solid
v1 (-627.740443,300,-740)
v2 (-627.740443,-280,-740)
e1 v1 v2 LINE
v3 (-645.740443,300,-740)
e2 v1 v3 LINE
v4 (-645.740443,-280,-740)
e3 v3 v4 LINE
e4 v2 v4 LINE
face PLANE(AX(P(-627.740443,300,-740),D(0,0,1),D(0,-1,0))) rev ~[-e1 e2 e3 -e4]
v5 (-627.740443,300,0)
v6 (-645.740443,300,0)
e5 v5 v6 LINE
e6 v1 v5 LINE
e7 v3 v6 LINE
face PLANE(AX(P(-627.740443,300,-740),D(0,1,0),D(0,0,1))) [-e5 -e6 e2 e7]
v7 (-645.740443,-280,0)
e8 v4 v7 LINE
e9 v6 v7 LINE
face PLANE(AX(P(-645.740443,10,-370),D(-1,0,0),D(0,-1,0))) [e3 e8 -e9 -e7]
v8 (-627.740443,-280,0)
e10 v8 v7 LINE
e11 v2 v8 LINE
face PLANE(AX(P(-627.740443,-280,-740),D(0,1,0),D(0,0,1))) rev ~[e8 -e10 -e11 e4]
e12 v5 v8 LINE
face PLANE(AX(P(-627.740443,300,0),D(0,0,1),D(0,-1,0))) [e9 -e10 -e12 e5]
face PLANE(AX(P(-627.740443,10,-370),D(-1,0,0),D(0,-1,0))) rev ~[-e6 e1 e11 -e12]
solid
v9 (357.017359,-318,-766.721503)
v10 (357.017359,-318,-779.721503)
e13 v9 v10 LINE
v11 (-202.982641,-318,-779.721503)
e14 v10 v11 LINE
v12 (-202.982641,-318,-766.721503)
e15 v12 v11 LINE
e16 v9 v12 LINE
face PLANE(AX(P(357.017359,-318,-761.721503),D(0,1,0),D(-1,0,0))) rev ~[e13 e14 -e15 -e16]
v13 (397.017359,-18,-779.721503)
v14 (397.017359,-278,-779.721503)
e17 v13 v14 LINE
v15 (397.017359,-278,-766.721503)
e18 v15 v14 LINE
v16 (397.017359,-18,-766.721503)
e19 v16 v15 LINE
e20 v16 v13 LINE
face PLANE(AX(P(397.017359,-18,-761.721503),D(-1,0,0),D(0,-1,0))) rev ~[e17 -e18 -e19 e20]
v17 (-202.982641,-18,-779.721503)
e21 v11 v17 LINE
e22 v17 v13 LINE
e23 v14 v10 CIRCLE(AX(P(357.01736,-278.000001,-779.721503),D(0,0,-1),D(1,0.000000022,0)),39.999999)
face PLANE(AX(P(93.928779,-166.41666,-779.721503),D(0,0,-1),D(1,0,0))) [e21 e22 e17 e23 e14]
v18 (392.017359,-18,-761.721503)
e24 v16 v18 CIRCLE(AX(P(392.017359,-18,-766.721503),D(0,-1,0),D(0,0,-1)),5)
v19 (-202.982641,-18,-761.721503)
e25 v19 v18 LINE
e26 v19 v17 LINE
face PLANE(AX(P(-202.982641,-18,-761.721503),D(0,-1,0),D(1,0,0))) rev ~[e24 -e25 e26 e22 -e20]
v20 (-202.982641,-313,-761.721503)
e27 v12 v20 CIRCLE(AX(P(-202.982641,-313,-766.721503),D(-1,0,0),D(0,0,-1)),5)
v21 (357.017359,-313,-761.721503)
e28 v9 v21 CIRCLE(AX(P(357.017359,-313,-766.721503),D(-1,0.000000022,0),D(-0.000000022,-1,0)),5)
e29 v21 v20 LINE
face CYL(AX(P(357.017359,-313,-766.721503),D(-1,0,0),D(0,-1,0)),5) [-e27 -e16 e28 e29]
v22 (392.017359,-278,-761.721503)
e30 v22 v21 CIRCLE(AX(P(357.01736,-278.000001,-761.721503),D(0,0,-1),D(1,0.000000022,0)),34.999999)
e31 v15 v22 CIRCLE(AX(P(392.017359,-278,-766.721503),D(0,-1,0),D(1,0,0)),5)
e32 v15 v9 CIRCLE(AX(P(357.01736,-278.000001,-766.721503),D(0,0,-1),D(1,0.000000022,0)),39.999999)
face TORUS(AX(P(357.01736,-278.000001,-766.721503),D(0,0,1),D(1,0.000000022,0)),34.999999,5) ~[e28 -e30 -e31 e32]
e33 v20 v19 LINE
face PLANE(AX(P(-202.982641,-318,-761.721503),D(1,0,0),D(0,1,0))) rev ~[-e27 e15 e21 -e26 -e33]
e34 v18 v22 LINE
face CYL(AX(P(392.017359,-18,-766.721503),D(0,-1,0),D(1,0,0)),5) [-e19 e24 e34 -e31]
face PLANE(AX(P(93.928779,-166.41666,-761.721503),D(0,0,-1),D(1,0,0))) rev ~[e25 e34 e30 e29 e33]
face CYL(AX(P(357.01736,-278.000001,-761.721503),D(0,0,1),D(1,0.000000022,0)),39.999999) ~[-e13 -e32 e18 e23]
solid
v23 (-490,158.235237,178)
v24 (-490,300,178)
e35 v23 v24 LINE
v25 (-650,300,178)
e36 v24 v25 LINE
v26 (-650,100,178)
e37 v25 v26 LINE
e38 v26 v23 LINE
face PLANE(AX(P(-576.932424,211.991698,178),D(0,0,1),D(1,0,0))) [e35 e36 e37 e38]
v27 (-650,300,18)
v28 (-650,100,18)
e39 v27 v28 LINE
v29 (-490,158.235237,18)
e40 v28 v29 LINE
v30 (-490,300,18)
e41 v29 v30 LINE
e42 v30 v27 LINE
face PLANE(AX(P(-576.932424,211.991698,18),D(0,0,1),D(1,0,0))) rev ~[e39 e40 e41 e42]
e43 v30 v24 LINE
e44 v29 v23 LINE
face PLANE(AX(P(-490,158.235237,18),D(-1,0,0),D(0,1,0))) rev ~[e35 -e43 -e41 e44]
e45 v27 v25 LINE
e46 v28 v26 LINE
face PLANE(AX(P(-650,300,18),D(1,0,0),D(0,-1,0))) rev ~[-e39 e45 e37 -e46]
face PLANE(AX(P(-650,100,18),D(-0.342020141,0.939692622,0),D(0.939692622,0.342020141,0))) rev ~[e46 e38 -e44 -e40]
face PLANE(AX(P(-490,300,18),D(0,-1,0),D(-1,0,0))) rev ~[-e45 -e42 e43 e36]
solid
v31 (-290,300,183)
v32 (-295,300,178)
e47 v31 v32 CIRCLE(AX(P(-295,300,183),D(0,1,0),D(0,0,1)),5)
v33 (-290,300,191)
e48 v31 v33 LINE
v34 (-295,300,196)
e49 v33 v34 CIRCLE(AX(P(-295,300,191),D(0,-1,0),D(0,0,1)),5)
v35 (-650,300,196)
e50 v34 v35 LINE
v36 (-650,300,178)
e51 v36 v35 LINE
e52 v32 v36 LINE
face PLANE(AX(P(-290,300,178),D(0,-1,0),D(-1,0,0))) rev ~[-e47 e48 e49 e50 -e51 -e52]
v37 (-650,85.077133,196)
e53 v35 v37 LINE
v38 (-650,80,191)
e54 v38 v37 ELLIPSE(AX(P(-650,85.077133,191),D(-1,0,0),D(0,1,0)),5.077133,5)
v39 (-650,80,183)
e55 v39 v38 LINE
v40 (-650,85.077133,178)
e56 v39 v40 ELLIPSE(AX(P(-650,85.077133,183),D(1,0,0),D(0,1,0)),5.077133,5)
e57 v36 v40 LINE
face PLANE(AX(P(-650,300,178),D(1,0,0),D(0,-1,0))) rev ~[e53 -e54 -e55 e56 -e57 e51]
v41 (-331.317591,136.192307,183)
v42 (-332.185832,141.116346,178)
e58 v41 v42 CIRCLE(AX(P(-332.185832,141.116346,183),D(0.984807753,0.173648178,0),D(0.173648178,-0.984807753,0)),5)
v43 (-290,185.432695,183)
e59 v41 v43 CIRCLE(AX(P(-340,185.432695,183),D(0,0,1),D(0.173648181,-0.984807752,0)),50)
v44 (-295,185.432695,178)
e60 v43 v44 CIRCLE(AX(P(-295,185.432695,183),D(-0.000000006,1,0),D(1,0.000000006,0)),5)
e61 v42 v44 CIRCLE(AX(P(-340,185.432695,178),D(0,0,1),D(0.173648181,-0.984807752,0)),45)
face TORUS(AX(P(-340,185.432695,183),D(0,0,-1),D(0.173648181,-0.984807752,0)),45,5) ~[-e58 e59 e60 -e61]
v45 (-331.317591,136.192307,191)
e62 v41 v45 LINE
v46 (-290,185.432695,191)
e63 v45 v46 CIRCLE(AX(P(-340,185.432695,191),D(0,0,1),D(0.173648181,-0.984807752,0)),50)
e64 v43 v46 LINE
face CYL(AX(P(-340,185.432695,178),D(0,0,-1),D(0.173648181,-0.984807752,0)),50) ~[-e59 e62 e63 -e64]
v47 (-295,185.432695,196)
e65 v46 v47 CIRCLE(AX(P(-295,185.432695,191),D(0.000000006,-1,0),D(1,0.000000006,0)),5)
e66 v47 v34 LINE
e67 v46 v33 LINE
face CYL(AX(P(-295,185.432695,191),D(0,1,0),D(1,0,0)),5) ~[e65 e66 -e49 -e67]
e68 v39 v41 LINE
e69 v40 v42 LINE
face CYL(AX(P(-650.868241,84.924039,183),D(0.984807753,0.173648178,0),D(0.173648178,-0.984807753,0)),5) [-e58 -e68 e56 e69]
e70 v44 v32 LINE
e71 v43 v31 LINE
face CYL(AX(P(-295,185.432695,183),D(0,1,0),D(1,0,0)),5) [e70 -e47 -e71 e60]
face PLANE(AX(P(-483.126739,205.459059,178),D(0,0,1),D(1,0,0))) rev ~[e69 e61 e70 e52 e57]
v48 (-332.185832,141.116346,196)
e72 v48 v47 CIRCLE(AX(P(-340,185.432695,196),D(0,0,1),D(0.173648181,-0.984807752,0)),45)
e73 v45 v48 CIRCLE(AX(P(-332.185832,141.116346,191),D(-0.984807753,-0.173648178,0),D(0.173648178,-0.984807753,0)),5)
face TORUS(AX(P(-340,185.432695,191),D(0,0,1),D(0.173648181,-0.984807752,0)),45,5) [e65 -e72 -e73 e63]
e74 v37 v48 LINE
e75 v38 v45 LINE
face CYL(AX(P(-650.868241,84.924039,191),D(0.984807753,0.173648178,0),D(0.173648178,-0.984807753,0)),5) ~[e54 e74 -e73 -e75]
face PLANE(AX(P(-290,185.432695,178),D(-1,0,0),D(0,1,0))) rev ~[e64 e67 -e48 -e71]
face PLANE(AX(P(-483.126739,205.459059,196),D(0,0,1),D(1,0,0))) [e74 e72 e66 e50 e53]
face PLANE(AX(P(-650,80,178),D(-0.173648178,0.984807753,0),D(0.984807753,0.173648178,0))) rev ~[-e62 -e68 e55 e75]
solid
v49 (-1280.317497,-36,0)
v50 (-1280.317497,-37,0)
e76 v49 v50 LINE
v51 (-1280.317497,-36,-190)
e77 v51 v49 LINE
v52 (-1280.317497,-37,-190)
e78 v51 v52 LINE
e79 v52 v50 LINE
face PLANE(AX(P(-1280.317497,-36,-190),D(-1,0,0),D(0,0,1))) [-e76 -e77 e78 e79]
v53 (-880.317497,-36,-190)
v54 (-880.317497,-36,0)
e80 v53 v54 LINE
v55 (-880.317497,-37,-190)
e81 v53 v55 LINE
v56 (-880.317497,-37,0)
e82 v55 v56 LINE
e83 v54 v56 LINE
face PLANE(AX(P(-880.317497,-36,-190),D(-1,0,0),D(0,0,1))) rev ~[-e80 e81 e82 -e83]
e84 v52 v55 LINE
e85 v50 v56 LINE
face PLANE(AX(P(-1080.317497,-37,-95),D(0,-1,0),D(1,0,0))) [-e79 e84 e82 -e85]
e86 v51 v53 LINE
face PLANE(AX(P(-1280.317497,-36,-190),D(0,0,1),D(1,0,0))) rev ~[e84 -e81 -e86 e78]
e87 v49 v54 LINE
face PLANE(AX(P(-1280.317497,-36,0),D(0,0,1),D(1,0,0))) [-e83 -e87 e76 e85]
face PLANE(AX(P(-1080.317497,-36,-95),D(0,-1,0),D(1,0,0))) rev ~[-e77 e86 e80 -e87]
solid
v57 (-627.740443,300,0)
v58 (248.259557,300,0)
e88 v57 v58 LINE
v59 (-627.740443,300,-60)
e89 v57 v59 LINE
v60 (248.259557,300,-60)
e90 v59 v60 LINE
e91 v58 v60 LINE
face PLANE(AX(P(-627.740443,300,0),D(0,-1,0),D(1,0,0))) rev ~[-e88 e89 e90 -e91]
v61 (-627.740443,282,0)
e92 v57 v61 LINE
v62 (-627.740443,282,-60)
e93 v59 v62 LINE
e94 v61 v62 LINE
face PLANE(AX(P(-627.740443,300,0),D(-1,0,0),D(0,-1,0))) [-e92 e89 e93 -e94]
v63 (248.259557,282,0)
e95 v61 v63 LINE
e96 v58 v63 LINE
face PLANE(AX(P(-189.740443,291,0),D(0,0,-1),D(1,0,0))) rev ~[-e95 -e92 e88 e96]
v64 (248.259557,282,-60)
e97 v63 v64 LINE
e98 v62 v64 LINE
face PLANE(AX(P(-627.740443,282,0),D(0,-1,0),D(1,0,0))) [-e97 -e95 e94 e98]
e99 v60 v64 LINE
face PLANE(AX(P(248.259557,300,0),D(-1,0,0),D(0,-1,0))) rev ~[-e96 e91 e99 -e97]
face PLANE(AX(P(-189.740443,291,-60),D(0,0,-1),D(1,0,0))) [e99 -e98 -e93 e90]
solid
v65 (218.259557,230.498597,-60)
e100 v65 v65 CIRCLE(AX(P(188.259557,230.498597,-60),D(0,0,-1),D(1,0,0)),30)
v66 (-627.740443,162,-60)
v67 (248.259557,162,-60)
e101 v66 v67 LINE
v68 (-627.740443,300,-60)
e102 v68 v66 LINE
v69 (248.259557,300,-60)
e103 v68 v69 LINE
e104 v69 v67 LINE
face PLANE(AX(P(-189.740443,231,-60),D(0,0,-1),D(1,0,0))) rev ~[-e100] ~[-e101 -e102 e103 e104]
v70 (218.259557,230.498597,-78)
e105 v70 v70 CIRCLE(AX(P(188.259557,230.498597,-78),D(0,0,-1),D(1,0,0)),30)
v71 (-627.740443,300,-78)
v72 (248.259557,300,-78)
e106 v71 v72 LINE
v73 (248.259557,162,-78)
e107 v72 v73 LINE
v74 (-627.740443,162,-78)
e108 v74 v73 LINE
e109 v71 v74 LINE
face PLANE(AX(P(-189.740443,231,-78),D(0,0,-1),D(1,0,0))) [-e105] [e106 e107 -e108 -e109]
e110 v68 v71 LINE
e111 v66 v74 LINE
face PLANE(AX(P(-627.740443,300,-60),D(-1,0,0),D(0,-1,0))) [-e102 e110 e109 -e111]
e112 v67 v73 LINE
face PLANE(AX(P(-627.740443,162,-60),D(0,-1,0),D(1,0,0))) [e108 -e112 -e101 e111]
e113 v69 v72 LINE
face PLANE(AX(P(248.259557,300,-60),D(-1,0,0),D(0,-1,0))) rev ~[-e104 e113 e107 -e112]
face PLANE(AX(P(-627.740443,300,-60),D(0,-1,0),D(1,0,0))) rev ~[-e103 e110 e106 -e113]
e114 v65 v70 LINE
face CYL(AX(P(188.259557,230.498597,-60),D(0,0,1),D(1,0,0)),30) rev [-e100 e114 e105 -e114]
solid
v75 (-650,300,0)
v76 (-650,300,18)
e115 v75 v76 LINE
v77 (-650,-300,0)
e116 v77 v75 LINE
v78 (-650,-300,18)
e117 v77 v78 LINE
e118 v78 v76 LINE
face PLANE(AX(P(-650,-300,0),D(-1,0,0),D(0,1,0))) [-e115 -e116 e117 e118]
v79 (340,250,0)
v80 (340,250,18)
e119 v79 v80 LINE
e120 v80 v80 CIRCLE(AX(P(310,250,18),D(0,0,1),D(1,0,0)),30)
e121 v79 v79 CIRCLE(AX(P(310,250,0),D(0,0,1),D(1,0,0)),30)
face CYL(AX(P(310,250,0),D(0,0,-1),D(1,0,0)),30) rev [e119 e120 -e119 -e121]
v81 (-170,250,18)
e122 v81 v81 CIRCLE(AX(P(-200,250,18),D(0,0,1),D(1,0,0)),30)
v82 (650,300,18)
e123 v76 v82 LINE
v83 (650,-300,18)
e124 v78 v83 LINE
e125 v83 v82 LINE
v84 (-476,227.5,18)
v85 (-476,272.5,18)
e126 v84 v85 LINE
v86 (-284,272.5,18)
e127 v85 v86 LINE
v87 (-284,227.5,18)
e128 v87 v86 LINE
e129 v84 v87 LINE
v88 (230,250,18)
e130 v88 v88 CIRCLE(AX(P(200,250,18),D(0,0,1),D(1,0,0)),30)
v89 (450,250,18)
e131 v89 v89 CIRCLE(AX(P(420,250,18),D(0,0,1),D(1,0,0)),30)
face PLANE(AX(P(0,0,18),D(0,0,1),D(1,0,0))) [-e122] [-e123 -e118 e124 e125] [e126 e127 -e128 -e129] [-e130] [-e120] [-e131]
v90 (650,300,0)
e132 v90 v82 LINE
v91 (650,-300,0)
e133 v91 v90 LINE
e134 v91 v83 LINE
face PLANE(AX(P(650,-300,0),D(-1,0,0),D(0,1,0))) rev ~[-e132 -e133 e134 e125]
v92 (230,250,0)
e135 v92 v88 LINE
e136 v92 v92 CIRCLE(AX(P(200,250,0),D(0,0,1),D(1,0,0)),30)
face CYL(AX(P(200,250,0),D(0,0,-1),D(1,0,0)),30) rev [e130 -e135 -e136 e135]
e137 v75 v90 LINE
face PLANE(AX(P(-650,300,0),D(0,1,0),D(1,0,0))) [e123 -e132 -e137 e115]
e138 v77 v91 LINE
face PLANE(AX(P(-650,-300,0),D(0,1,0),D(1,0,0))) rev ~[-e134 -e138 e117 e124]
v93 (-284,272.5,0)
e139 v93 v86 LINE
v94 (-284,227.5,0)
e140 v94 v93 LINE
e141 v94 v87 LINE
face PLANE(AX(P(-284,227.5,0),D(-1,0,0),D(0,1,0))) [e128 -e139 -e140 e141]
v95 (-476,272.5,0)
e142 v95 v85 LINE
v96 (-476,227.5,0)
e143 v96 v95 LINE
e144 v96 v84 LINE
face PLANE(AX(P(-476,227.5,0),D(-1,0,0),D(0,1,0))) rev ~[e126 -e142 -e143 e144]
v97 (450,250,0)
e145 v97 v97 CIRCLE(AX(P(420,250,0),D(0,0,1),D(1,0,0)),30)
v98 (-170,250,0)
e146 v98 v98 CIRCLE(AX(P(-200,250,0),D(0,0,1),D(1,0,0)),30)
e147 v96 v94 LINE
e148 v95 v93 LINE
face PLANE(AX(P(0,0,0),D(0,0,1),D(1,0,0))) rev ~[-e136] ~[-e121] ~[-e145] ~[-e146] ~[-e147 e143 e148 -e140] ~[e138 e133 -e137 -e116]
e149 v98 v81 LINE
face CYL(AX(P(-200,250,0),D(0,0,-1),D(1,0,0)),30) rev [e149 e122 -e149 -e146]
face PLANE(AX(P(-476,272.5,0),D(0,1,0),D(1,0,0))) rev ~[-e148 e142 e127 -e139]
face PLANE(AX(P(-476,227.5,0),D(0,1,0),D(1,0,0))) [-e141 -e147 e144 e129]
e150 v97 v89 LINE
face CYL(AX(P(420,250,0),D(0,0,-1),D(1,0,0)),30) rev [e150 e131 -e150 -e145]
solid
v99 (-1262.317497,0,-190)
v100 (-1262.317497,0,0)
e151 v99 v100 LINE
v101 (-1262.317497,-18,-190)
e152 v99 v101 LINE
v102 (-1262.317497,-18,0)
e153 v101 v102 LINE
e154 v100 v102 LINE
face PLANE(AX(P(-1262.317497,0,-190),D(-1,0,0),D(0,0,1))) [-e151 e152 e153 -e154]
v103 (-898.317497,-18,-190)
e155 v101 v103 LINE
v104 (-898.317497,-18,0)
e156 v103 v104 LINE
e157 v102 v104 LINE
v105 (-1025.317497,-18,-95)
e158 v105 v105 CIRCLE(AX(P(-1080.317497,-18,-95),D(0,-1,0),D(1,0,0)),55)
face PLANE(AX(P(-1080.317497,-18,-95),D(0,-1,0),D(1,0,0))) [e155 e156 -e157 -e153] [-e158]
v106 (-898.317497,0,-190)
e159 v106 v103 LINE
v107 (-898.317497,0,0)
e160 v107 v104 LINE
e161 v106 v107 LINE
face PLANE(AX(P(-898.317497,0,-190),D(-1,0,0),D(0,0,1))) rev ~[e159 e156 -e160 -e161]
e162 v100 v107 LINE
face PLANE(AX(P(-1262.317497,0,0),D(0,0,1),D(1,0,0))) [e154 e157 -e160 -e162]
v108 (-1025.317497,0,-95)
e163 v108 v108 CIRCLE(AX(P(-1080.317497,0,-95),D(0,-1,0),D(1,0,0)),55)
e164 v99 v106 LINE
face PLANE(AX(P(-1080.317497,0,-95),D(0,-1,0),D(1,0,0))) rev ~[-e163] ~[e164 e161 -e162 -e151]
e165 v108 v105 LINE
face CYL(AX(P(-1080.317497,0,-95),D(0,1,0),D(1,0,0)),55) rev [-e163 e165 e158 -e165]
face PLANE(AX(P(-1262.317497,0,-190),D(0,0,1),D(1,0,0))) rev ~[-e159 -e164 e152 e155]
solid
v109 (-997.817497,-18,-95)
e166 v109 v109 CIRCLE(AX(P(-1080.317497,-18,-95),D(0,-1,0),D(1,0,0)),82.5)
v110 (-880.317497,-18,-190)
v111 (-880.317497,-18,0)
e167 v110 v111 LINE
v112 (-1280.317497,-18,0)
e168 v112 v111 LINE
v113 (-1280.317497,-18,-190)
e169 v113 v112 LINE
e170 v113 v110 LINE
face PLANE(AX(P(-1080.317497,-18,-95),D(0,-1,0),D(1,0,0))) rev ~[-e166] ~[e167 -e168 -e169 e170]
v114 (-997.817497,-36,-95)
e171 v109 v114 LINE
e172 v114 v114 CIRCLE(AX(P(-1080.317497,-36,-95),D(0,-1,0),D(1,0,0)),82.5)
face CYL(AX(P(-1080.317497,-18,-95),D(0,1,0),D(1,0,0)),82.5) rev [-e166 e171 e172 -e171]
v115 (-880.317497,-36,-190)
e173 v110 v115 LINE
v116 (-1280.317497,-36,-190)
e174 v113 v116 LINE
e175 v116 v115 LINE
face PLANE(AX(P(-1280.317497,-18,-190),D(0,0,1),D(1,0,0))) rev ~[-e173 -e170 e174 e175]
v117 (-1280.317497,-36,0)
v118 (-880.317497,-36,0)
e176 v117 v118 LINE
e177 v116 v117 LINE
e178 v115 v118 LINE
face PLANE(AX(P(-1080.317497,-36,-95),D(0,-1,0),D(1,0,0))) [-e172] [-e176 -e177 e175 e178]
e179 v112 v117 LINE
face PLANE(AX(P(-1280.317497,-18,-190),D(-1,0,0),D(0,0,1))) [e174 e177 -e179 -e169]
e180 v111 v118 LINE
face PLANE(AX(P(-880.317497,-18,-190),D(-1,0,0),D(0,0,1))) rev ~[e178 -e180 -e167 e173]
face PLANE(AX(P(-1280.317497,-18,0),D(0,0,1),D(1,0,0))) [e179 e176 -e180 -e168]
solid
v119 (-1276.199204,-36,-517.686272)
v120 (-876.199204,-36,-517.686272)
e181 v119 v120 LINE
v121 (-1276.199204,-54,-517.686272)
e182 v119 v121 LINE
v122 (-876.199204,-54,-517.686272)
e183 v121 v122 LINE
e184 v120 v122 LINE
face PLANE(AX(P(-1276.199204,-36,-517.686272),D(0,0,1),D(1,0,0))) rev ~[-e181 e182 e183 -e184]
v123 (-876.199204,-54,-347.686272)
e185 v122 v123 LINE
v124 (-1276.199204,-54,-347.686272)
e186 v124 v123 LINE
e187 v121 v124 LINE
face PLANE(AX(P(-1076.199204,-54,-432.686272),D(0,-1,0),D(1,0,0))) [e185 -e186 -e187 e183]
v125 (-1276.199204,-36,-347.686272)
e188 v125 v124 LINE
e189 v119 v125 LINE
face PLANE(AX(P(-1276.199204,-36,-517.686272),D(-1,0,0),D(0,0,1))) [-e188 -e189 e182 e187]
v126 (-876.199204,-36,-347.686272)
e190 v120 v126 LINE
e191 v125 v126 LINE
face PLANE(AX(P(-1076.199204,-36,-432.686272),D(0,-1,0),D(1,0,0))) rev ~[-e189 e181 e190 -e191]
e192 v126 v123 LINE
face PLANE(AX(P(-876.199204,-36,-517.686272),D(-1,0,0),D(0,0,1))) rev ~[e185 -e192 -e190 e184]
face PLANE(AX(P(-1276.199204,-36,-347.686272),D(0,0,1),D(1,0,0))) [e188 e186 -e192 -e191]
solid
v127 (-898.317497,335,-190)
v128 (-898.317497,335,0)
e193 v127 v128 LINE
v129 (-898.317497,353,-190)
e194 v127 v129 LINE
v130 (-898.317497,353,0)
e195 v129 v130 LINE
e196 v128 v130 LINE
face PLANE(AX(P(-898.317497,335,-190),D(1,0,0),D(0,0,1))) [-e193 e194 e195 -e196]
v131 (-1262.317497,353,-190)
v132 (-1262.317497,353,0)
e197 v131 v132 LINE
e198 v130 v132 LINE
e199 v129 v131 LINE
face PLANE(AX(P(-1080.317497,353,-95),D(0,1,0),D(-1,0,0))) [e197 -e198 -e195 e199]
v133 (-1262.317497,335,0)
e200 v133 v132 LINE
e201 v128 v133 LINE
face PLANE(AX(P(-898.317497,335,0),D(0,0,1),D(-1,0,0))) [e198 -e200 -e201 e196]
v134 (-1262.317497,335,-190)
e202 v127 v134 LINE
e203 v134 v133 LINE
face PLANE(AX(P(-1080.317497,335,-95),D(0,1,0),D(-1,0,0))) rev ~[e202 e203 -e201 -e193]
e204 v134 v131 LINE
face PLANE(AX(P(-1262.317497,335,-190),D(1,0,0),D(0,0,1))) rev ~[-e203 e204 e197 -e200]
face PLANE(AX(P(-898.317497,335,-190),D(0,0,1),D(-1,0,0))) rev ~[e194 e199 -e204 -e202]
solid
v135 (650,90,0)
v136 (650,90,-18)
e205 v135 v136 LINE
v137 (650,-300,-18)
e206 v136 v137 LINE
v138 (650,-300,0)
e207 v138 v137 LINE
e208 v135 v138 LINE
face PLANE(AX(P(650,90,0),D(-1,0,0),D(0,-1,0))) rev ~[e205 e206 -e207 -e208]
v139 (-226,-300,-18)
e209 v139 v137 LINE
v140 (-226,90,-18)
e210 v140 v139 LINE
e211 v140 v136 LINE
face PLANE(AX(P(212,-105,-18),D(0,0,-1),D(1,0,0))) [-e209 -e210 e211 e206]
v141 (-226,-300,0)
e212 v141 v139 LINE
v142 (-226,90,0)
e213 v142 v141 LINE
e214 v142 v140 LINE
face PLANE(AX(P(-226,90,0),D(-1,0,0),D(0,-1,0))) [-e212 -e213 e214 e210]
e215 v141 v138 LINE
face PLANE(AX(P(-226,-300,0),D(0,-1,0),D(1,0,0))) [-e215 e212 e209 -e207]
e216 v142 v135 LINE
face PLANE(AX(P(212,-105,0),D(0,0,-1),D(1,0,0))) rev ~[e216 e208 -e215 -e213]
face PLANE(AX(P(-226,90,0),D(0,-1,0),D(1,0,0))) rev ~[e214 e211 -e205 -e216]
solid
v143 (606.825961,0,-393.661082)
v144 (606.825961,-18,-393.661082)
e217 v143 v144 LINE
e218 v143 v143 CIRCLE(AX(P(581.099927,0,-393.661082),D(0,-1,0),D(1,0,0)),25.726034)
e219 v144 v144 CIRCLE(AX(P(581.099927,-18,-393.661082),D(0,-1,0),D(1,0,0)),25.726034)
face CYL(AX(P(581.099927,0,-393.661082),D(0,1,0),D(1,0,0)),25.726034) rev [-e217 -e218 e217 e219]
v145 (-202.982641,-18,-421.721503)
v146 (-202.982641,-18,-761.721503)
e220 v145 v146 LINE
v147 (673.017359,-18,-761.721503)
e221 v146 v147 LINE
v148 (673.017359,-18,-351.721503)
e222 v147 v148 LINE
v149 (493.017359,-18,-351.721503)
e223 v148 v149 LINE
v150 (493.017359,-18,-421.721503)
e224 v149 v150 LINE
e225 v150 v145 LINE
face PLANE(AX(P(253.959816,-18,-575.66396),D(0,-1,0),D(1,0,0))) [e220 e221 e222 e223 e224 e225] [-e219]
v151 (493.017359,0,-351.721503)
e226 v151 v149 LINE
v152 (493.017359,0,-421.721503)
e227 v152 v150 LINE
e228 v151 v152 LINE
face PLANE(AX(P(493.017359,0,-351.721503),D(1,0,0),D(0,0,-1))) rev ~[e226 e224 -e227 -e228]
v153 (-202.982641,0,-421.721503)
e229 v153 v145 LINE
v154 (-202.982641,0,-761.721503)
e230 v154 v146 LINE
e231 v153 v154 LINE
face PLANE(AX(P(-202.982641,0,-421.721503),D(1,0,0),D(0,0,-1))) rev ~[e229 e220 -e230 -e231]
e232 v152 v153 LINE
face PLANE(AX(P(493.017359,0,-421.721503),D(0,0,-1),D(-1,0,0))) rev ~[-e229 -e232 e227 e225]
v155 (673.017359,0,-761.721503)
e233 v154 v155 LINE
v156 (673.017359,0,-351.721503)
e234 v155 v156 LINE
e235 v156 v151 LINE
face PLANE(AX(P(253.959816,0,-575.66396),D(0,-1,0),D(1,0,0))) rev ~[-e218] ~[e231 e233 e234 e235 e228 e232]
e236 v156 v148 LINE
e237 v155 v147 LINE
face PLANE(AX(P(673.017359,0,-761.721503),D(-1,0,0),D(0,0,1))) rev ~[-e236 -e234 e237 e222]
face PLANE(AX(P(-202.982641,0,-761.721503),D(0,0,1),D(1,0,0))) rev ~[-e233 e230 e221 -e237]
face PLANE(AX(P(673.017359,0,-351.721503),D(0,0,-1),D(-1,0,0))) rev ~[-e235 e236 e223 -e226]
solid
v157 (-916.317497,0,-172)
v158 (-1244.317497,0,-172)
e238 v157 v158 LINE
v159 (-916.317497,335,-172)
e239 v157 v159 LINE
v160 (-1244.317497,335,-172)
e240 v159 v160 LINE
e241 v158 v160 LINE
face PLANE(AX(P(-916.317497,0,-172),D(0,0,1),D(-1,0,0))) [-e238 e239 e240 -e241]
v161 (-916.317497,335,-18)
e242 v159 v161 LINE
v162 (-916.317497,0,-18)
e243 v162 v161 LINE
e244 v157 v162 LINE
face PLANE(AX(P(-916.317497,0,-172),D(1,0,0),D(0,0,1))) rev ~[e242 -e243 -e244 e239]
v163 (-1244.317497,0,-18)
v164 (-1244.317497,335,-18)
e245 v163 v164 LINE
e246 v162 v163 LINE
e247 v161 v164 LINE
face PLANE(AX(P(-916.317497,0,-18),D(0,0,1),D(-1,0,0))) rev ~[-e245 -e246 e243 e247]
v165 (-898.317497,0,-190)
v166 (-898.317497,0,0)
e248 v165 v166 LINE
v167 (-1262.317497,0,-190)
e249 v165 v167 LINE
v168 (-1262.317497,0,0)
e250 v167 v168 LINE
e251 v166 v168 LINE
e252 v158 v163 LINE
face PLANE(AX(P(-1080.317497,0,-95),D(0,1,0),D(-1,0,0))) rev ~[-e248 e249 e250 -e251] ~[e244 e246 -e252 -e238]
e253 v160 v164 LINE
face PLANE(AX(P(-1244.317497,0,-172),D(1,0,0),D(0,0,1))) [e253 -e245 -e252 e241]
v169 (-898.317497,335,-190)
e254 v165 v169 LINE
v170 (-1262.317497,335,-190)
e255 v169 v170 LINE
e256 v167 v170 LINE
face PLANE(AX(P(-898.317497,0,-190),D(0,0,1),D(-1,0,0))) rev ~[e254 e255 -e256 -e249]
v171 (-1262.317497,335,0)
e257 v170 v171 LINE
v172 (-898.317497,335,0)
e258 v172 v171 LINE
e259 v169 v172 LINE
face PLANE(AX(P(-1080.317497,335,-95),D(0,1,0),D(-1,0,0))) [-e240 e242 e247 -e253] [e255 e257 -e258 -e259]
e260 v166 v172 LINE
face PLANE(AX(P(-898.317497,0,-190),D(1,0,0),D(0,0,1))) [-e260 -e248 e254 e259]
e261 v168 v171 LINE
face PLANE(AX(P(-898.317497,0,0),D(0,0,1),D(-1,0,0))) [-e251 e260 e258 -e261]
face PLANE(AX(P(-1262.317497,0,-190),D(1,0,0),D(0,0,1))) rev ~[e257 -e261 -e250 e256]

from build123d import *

# Parameters (mm, degrees)
F0_W      = 1300
F0_H      = 600
F0_W_2    = 192
F0_H_2    = 45
F0_R      = 30
F1_DEPTH  = 18
F2_W      = 876
F2_H      = 18
F3_DEPTH  = 60
F4_W      = 876
F4_H      = 138
F4_R      = 30
F5_DEPTH  = 18
F6_W      = 580
F6_H      = 740
F7_DEPTH  = 18
F9_DEPTH  = 160
F11_DEPTH = 18
F12_R     = 5
F13_W     = 364
F13_H     = 190
F13_R     = 55
F14_DEPTH = 18
F15_W     = 364
F15_H     = 190
F15_W_2   = 328
F15_H_2   = 154
F16_DEPTH = 335
F17_W     = 400
F17_H     = 190
F17_R     = 82.5
F18_DEPTH = 18
F19_W     = 364
F19_H     = 190
F20_DEPTH = 18
F21_W     = 876
F21_H     = 390
F22_DEPTH = 18
F23_R     = 25.726034
F24_DEPTH = 18
F26_DEPTH = 18
F27_R     = 5
F28_W     = 400
F28_H     = 170
F29_DEPTH = 18
F30_W     = 400
F30_H     = 190
F31_DEPTH = 1


with BuildPart() as f1:
    # F0 (on Top) → F1 (new body)
    with BuildSketch(Plane.XY):
        Rectangle(F0_W, F0_H)
        with Locations((-380, 250)):
            Rectangle(F0_W_2, F0_H_2, mode=Mode.SUBTRACT)
        with Locations((-200, 250)):
            Circle(F0_R, mode=Mode.SUBTRACT)
        with Locations((200, 250)):
            Circle(F0_R, mode=Mode.SUBTRACT)
        with Locations((310, 250)):
            Circle(F0_R, mode=Mode.SUBTRACT)
        with Locations((420, 250)):
            Circle(F0_R, mode=Mode.SUBTRACT)
    extrude(amount=F1_DEPTH)


with BuildPart() as f3:
    # F2 (on face) → F3 (new body)
    with BuildSketch(Plane(origin=(0, 0, 0), x_dir=(1, 0, 0), z_dir=(0, 0, -1))):
        with Locations((-189.740443, -291)):
            Rectangle(F2_W, F2_H)
    extrude(amount=F3_DEPTH)


with BuildPart() as f5:
    # F4 (on face) → F5 (new body)
    with BuildSketch(Plane(origin=(0, 0, -60), x_dir=(1, 0, 0), z_dir=(0, 0, -1))):
        with Locations((-189.740443, -231)):
            Rectangle(F4_W, F4_H)
        with Locations((188.259557, -230.498597)):
            Circle(F4_R, mode=Mode.SUBTRACT)
    extrude(amount=F5_DEPTH)


with BuildPart() as f7:
    # F6 (on face) → F7 (new body)
    with BuildSketch(Plane(origin=(-627.740443, 0, 0), x_dir=(0, -1, 0), z_dir=(-1, 0, 0))):
        with Locations((-10, -370)):
            Rectangle(F6_W, F6_H)
    extrude(amount=F7_DEPTH)


with BuildPart() as f9:
    # F8 (on face) → F9 (new body)
    with BuildSketch(Plane.XY.offset(18)):
        Polygon((-490, 300), (-650, 300), (-650, 100), (-490, 158.235237), align=None)
    extrude(amount=F9_DEPTH)


with BuildPart() as f11:
    # F10 (on face) → F11 (new body)
    with BuildSketch(Plane.XY.offset(178)):
        with BuildLine():
            Line((-650, 300), (-650, 80))
            Line((-650, 80), (-331.317591, 136.192307))
            ThreePointArc((-331.317591, 136.192307), (-301.697778, 153.293314), (-290, 185.432695))
            Line((-290, 185.432695), (-290, 300))
            Line((-290, 300), (-650, 300))
        make_face()
    extrude(amount=F11_DEPTH)

    # F12
    f12_edges = [f11.edges().sort_by_distance(p)[0] for p in [
        (-490.658796, 108.096153, 196),
        (-301.697778, 153.293314, 196),
        (-290, 242.716347, 196),
        (-490.658796, 108.096153, 178),
        (-301.697778, 153.293314, 178),
        (-290, 242.716347, 178),
    ]]
    fillet(f12_edges, radius=F12_R)


with BuildPart() as f14:
    # F13 (on Front) → F14 (new body)
    with BuildSketch(Plane.XZ):
        with Locations((-1080.317497, -95)):
            Rectangle(F13_W, F13_H)
        with Locations((-1080.317497, -95)):
            Circle(F13_R, mode=Mode.SUBTRACT)
    extrude(amount=F14_DEPTH)


with BuildPart() as f16:
    # F15 (on face) → F16 (new body)
    with BuildSketch(Plane(origin=(0, 0, 0), x_dir=(-1, 0, 0), z_dir=(0, 1, 0))):
        with Locations((1080.317497, -95)):
            Rectangle(F15_W, F15_H)
        with Locations((1080.317497, -95)):
            Rectangle(F15_W_2, F15_H_2, mode=Mode.SUBTRACT)
    extrude(amount=F16_DEPTH)


with BuildPart() as f18:
    # F17 (on face) → F18 (new body)
    with BuildSketch(Plane.XZ.offset(18)):
        with Locations((-1080.317497, -95)):
            Rectangle(F17_W, F17_H)
        with Locations((-1080.317497, -95)):
            Circle(F17_R, mode=Mode.SUBTRACT)
    extrude(amount=F18_DEPTH)


with BuildPart() as f20:
    # F19 (on face) → F20 (new body)
    with BuildSketch(Plane(origin=(0, 335, 0), x_dir=(-1, 0, 0), z_dir=(0, 1, 0))):
        with Locations((1080.317497, -95)):
            Rectangle(F19_W, F19_H)
    extrude(amount=F20_DEPTH)


with BuildPart() as f22:
    # F21 (on face) → F22 (new body)
    with BuildSketch(Plane(origin=(0, 0, 0), x_dir=(1, 0, 0), z_dir=(0, 0, -1))):
        with Locations((212, 105)):
            Rectangle(F21_W, F21_H)
    extrude(amount=F22_DEPTH)


with BuildPart() as f24:
    # F23 (on Front) → F24 (new body)
    with BuildSketch(Plane.XZ):
        Polygon((-202.982641, -761.721503), (673.017359, -761.721503), (673.017359, -351.721503), (493.017359, -351.721503), (493.017359, -421.721503), (-202.982641, -421.721503), align=None)
        with Locations((581.099927, -393.661082)):
            Circle(F23_R, mode=Mode.SUBTRACT)
    extrude(amount=F24_DEPTH)


with BuildPart() as f26:
    # F25 (on face) → F26 (new body)
    with BuildSketch(Plane(origin=(0, 0, -761.721503), x_dir=(1, 0, 0), z_dir=(0, 0, -1))):
        with BuildLine():
            Line((-202.982641, 318), (-202.982641, 18))
            Line((-202.982641, 18), (397.017359, 18))
            Line((397.017359, 18), (397.017359, 278))
            ThreePointArc((397.017359, 278), (385.301631, 306.284271), (357.017359, 318))
            Line((357.017359, 318), (-202.982641, 318))
        make_face()
    extrude(amount=F26_DEPTH)

    # F27
    f27_edges = [f26.edges().sort_by_distance(p)[0] for p in [
        (77.017359, -318, -761.721503),
        (385.301631, -306.284271, -761.721503),
        (397.017359, -148, -761.721503),
    ]]
    fillet(f27_edges, radius=F27_R)


with BuildPart() as f29:
    # F28 (on face) → F29 (new body)
    with BuildSketch(Plane.XZ.offset(36)):
        with Locations((-1076.199204, -432.686272)):
            Rectangle(F28_W, F28_H)
    extrude(amount=F29_DEPTH)


with BuildPart() as f31:
    # F30 (on face) → F31 (new body)
    with BuildSketch(Plane.XZ.offset(36)):
        with Locations((-1080.317497, -95)):
            Rectangle(F30_W, F30_H)
    extrude(amount=F31_DEPTH)


solid = Compound([f1.part, f3.part, f5.part, f7.part, f9.part, f11.part, f14.part, f16.part, f18.part, f20.part, f22.part, f24.part, f26.part, f29.part, f31.part])
